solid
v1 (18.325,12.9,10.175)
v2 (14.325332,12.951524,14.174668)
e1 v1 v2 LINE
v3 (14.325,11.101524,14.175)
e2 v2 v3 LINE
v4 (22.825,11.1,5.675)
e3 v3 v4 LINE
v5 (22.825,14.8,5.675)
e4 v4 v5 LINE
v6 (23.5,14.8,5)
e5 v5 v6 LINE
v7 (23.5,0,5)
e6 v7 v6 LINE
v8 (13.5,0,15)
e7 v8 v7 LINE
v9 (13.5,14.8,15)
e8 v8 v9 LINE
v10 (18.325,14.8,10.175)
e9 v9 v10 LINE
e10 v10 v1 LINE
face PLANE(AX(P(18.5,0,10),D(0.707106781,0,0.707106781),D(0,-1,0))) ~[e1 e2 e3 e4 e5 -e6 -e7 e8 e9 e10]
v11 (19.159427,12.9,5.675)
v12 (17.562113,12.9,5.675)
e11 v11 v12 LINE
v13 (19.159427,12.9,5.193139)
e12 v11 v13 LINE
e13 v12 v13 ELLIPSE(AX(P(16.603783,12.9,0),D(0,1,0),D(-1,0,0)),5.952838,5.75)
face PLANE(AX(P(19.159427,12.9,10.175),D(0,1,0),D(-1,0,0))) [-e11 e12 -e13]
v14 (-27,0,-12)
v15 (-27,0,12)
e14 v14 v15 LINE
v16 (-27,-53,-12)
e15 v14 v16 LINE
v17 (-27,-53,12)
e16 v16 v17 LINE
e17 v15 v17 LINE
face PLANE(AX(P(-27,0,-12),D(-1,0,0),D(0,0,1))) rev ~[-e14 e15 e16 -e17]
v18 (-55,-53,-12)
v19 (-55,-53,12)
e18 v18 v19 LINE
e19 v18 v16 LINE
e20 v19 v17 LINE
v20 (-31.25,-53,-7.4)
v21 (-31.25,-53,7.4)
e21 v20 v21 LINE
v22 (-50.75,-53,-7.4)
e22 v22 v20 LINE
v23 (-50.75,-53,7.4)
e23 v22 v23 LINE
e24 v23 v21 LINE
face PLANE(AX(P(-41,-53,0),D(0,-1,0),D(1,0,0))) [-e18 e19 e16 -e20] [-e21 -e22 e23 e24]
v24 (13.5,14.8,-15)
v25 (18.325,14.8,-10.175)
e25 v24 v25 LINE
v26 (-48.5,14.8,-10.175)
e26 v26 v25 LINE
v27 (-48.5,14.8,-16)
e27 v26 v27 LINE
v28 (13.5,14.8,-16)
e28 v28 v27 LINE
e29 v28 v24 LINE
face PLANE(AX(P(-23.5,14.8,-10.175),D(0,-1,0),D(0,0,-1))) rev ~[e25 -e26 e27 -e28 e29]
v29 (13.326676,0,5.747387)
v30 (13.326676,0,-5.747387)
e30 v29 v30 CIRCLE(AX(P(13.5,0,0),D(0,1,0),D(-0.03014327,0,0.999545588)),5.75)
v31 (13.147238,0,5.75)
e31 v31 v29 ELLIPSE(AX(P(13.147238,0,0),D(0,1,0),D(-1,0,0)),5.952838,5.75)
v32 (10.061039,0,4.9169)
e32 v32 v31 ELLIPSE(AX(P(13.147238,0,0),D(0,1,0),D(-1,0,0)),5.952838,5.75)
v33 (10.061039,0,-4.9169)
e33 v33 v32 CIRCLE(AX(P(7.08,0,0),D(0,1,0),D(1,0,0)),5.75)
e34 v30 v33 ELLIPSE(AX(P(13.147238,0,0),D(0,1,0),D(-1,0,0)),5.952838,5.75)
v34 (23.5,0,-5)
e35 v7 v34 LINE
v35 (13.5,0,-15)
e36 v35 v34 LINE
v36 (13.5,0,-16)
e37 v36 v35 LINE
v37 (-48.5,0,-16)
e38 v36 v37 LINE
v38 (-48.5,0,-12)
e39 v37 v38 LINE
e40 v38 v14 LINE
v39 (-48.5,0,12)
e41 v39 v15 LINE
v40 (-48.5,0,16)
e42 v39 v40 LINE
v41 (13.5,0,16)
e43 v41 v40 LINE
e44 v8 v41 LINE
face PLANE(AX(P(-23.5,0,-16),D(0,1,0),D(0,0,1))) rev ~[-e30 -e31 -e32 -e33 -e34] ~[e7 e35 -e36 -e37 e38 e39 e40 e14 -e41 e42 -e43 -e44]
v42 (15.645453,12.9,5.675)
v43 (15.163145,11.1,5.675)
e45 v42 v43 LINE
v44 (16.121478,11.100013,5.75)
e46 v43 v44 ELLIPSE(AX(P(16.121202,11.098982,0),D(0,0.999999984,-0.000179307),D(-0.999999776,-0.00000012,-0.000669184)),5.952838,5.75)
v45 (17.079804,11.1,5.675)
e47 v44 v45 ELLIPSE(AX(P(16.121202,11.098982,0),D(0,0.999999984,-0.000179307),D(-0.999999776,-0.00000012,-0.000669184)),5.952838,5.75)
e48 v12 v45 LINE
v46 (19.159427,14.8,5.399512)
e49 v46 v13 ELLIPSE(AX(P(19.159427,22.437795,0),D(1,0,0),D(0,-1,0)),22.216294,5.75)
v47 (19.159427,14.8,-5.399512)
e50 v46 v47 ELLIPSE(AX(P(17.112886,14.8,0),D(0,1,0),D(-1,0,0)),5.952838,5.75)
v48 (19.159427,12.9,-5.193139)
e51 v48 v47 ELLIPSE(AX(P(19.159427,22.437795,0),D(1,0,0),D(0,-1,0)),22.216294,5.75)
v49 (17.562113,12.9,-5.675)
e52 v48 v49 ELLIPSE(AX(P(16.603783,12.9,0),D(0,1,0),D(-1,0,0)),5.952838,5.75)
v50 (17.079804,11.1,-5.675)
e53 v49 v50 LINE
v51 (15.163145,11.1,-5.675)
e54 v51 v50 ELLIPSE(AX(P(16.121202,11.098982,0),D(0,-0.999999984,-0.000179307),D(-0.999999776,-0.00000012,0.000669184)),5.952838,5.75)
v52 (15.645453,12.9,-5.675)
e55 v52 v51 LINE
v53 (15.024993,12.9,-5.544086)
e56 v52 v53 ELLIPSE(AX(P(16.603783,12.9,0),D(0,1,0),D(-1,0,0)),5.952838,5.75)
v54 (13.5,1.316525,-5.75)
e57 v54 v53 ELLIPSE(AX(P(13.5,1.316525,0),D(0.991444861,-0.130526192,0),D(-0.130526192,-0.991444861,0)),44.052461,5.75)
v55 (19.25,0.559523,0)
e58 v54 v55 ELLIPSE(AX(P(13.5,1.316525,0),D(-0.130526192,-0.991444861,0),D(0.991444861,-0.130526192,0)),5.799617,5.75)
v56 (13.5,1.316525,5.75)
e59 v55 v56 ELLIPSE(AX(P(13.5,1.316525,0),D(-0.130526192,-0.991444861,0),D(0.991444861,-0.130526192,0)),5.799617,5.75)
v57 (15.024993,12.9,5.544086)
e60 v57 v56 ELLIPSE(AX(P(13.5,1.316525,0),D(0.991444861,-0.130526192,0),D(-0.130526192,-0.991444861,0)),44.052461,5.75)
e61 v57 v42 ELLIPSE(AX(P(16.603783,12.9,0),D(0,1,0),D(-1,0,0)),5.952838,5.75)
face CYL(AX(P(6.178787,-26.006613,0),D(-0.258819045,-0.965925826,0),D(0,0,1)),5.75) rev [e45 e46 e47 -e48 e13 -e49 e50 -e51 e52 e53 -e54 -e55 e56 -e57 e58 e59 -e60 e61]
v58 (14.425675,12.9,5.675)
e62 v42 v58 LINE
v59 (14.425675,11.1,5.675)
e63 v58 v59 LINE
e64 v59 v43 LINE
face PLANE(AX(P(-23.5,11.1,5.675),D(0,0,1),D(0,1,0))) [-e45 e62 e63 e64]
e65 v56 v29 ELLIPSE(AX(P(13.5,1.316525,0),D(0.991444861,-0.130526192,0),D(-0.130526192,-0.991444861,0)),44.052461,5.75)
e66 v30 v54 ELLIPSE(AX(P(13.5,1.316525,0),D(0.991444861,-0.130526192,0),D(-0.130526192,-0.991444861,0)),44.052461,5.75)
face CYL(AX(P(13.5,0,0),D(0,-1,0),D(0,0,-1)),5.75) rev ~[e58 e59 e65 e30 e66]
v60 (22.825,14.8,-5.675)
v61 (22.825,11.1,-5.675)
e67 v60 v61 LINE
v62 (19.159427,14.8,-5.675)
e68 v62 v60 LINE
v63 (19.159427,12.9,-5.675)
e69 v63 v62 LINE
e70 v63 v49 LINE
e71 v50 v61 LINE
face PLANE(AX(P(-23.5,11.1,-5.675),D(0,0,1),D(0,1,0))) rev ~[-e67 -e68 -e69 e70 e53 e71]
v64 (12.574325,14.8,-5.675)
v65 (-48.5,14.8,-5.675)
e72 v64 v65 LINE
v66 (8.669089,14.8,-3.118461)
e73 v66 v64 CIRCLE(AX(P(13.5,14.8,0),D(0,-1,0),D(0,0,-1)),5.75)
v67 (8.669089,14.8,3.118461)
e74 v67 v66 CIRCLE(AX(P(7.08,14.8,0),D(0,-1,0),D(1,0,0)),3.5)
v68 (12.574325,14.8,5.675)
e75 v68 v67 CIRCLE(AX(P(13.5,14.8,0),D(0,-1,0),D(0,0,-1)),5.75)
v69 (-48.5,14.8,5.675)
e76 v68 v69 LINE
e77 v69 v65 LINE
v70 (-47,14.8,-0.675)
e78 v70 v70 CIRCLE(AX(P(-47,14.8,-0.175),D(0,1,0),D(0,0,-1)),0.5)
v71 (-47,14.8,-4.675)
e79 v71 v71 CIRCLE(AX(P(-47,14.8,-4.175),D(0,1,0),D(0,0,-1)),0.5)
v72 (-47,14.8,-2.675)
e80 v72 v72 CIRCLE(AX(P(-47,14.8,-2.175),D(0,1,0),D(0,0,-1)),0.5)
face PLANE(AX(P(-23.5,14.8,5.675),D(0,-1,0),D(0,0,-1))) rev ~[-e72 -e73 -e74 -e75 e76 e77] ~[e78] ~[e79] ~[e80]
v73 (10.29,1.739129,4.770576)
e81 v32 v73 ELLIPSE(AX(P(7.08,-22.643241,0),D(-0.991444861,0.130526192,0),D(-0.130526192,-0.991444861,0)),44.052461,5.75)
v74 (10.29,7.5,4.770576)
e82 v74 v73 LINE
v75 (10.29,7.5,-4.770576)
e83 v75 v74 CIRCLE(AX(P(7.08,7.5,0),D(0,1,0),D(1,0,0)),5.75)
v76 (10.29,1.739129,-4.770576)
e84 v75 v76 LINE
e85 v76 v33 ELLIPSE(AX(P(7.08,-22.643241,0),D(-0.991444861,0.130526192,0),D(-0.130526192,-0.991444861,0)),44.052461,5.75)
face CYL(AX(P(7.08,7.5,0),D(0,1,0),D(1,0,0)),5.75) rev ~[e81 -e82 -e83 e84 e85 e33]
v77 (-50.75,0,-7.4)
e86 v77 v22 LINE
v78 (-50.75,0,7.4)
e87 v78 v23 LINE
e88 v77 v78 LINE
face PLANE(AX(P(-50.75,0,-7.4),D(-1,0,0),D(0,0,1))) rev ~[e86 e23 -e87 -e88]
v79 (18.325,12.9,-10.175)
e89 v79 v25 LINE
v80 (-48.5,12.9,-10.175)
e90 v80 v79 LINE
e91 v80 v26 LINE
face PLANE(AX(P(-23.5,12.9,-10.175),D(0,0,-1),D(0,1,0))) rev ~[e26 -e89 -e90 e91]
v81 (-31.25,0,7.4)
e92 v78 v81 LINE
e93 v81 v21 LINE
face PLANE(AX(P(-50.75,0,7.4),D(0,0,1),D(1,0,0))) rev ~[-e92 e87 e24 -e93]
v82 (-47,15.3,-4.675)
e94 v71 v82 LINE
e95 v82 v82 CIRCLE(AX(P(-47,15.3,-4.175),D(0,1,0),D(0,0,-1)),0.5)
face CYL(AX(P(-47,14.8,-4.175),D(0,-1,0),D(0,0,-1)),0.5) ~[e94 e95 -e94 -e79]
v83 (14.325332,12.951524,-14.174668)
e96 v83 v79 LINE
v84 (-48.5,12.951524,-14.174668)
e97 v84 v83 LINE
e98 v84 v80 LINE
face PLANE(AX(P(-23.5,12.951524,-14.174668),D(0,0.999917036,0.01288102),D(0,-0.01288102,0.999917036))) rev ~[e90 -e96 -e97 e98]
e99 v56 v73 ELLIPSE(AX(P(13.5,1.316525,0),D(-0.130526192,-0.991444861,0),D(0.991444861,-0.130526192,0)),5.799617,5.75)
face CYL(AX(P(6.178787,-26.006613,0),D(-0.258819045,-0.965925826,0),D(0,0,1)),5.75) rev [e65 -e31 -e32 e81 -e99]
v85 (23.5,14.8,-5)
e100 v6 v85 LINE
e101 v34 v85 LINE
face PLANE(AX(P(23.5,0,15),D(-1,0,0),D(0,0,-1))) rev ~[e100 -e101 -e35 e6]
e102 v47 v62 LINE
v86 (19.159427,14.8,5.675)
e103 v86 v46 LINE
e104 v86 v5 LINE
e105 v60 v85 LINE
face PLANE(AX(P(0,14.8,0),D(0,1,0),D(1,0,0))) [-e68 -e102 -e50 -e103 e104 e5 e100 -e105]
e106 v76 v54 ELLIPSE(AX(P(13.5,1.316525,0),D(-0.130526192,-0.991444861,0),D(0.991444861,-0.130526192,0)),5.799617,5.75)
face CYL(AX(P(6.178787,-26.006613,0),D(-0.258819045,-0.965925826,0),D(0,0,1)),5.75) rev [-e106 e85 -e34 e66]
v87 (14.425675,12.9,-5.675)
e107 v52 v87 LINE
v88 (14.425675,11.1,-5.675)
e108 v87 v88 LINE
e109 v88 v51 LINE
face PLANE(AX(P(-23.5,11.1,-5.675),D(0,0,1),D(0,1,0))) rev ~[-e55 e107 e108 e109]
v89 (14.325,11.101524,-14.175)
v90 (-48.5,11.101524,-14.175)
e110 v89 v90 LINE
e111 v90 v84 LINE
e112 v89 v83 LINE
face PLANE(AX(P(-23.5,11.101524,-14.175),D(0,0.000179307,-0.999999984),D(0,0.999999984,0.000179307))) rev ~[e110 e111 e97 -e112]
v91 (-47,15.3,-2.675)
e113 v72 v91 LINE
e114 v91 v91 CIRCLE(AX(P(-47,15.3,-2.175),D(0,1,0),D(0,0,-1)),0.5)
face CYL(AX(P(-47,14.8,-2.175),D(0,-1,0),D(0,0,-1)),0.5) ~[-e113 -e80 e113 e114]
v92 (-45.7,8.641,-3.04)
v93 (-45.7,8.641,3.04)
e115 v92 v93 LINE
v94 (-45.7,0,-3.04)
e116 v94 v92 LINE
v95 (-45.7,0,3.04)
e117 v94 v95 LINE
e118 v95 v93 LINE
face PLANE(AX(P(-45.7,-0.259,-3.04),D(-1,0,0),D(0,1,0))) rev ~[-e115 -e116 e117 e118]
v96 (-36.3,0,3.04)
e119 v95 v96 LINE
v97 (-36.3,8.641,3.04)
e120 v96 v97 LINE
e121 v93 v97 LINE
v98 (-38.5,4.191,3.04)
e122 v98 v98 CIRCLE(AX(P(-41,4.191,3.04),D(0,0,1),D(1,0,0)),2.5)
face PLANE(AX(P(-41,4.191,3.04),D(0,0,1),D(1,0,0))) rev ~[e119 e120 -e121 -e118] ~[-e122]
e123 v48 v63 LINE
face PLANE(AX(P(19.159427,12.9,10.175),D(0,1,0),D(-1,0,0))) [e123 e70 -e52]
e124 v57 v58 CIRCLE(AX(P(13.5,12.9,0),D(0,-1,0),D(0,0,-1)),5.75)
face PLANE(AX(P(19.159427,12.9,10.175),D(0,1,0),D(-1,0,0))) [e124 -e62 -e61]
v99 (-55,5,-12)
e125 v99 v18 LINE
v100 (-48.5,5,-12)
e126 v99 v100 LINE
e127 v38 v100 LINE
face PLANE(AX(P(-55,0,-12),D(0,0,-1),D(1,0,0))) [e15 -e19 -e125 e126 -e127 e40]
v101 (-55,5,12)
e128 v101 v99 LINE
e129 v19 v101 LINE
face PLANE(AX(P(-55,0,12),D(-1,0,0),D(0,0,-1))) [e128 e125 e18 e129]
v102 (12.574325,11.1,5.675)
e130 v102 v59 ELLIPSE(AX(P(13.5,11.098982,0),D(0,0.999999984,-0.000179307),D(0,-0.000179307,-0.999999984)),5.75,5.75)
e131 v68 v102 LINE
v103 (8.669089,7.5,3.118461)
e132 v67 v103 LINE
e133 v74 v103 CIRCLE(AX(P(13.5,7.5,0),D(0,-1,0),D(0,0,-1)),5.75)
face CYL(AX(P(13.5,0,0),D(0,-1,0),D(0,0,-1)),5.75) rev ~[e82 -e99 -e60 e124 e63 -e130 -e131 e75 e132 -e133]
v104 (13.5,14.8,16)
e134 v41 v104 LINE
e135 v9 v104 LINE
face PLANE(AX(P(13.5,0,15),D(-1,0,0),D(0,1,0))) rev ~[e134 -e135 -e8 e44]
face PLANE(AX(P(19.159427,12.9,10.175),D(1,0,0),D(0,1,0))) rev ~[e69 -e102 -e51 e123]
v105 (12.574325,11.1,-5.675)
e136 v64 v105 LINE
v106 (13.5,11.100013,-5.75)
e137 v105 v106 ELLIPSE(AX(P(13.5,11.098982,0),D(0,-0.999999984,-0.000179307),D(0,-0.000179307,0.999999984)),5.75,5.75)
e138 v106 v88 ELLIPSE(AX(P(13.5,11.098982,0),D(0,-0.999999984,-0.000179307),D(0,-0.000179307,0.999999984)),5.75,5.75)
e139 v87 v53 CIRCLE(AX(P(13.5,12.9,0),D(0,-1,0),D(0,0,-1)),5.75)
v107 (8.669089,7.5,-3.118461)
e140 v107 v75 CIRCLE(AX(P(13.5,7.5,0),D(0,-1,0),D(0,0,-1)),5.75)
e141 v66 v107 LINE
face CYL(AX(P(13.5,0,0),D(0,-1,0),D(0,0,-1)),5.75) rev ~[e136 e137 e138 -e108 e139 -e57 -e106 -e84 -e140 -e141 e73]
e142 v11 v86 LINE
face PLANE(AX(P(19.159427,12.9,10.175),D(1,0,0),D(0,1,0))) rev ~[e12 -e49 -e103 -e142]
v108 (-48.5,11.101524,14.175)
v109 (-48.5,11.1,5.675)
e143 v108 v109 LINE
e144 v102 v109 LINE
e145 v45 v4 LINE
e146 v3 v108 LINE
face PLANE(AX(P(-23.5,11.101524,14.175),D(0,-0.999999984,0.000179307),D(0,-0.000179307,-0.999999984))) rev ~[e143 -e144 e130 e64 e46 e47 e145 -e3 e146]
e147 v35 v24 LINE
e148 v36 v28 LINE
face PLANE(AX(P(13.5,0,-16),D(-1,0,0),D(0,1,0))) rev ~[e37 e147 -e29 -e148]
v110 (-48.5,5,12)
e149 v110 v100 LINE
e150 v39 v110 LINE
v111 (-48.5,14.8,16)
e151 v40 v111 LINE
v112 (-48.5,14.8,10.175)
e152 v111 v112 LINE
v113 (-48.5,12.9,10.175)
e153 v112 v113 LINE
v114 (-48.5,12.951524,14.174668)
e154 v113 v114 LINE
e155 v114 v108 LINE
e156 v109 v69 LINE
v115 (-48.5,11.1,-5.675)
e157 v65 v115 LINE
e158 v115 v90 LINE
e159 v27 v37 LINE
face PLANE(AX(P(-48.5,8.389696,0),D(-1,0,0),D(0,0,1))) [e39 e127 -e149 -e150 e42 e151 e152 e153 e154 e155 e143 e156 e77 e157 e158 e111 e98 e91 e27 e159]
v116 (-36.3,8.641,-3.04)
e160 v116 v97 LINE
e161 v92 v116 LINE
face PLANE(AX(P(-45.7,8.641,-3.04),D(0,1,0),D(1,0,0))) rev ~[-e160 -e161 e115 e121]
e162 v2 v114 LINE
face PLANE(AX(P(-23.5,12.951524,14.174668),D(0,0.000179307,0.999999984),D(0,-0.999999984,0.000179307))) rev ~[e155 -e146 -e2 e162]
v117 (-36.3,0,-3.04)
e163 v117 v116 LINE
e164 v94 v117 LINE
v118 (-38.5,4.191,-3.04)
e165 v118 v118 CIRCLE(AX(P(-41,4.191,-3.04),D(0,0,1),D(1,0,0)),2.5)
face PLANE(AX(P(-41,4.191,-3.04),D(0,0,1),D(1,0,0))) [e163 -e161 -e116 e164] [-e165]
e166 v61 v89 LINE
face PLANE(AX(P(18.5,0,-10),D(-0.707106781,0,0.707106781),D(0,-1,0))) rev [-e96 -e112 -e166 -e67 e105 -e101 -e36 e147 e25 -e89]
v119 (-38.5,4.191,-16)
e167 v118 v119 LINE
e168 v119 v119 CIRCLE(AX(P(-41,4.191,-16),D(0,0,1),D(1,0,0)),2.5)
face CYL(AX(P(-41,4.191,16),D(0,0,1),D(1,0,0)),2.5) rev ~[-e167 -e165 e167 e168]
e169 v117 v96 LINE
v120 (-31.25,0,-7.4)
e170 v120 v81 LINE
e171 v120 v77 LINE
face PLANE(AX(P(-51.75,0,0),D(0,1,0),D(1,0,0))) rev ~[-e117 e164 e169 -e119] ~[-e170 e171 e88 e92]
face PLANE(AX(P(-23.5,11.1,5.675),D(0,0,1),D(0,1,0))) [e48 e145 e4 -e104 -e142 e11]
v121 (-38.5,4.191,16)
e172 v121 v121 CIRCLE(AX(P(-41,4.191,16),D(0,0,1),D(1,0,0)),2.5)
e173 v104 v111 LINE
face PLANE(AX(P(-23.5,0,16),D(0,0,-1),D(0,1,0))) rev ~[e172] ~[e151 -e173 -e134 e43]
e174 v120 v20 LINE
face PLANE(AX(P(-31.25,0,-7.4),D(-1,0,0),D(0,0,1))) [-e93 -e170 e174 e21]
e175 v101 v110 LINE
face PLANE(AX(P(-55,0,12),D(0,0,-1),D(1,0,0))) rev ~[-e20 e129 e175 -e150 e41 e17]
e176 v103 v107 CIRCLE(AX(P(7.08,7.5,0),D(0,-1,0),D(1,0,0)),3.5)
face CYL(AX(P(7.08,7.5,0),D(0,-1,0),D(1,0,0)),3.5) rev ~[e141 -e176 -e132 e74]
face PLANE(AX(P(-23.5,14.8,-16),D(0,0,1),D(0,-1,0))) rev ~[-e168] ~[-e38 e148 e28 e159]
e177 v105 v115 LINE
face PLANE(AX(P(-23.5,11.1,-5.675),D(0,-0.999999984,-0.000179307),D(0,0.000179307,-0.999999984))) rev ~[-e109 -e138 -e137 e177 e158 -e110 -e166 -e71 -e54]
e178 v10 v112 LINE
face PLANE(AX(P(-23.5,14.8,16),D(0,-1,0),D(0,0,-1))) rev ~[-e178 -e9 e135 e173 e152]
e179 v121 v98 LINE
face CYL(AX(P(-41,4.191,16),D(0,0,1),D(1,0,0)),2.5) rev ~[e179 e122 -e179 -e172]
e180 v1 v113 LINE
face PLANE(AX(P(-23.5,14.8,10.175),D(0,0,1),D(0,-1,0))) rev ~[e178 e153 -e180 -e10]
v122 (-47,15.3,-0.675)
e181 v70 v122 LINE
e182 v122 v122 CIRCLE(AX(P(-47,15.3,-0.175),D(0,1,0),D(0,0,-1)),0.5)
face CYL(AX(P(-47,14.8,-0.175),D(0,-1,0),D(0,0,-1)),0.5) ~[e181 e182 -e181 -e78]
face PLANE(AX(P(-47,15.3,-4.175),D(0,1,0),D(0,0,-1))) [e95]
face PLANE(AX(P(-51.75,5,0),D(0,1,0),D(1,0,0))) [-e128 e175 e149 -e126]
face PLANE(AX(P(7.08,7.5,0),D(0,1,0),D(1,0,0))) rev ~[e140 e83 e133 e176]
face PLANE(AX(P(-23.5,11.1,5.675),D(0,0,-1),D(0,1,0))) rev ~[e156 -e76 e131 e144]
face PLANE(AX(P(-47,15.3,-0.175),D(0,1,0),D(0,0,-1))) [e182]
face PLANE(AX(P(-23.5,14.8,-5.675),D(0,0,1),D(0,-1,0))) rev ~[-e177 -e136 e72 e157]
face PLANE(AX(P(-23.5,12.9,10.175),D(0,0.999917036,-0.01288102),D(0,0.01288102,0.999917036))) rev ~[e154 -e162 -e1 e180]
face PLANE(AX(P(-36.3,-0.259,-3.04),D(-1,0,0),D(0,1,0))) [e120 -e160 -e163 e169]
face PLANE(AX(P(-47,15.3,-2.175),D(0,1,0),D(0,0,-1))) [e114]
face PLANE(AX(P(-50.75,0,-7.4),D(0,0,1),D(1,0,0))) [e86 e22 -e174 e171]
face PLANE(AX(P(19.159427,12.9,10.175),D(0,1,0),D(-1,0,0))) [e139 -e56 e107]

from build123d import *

# Parameters (mm, degrees)
SKETCH1_W               = 47
SKETCH1_H               = 30
BOSS_EXTRUDE1_DEPTH     = 14.8
SKETCH2_R               = 5.75
CUT_EXTRUDE1_DEPTH      = 32.564061843
SKETCH10_W              = 15
SKETCH10_H              = 23
BOSS_EXTRUDE2_DEPTH     = 10
SKETCH9_R               = 2.5
CUT_EXTRUDE2_DEPTH      = 52.780787943
SKETCH9_3_W             = 8.89
SKETCH9_3_H             = 8.382
SKETCH9_3_R             = 2.5
CUT_EXTRUDE3_DEPTH      = 28.04
SKETCH14_W              = 11.152996248
SKETCH14_H              = 9.480152006
BOSS_EXTRUDE3_DEPTH     = 11.96
CUT_EXTRUDE6_DEPTH      = 31
CUT_EXTRUDE6_DEPTH_BACK = 111
SKETCH15_R              = 2.5
CHAMFER1_SIZE           = 10
CUT_EXTRUDE7_DEPTH      = 58.99137867
SKETCH17_W              = 15
SKETCH17_H              = 23
CUT_EXTRUDE8_DEPTH      = 10
CUT_EXTRUDE9_DEPTH      = 31.734725749
CUT_EXTRUDE9_DEPTH_BACK = 31.734725749
SKETCH18_R              = 5.75
CUT_EXTRUDE10_START     = -7.3
SKETCH19_R              = 5.75
CUT_EXTRUDE10_DEPTH     = 25.264061843
SKETCH20_W              = 37
SKETCH20_H              = 14.8
SKETCH20_R              = 2.5
BOSS_EXTRUDE4_DEPTH     = 1
BOSS_EXTRUDE5_START     = 1
SKETCH21_W              = 37
SKETCH21_H              = 14.8
SKETCH21_R              = 2.5
BOSS_EXTRUDE5_DEPTH     = 1
BOSS_EXTRUDE6_DEPTH     = 25
CUT_EXTRUDE11_REACH     = 59.065
SKETCH22_W              = 5.115877125
SKETCH22_H              = 1.9
SKETCH24_R              = 2.5
CUT_EXTRUDE12_DEPTH     = 60.960737154
CUT_EXTRUDE13_START     = -19.04
SKETCH25_W              = 9.4
SKETCH25_H              = 8.9
CUT_EXTRUDE13_DEPTH     = 6.08
SKETCH26_W              = 23.327842288
SKETCH26_H              = 8.382
BOSS_EXTRUDE7_DEPTH     = 32
SKETCH27_R              = 3.5
CUT_EXTRUDE14_DEPTH     = 10
SKETCH28_R              = 0.5
BOSS_EXTRUDE8_DEPTH     = 0.5
SKETCH29_W              = 28
SKETCH29_H              = 24
SKETCH29_W_2            = 19.5
SKETCH29_H_2            = 14.8
BOSS_EXTRUDE9_DEPTH     = 53
SKETCH30_W              = 6.5
SKETCH30_H              = 24
BOSS_EXTRUDE10_DEPTH    = 5


with BuildPart() as part:
    # Sketch1 → Boss-Extrude1 (new body)
    with BuildSketch(Plane(origin=(0, 0, 0), x_dir=(1, 0, 0), z_dir=(0, 1, 0))):
        Rectangle(SKETCH1_W, SKETCH1_H)
    extrude(amount=BOSS_EXTRUDE1_DEPTH)

    # Sketch2 → Cut-Extrude1 (cut, through all)
    with BuildSketch(Plane.XZ):
        with Locations(Location((13.5, 0, 0), (0, 0, 270))):
            Circle(SKETCH2_R)
    extrude(amount=-CUT_EXTRUDE1_DEPTH, mode=Mode.SUBTRACT)

    # Sketch10 → Boss-Extrude2 (add)
    with BuildSketch(Plane.XY.offset(15)):
        with Locations((-16, 11.5)):
            Rectangle(SKETCH10_W, SKETCH10_H)
    extrude(amount=BOSS_EXTRUDE2_DEPTH)

    # Sketch9 → Cut-Extrude2 (cut, through all)
    with BuildSketch(Plane.XY.offset(25)):
        with Locations((-16, 4.191)):
            Circle(SKETCH9_R)
    extrude(amount=-CUT_EXTRUDE2_DEPTH, mode=Mode.SUBTRACT)

    # Sketch9<3> → Cut-Extrude3 (cut)
    with BuildSketch(Plane.XY.offset(25)):
        with Locations((-16, 4.191)):
            Rectangle(SKETCH9_3_W, SKETCH9_3_H)
        with Locations((-16, 4.191)):
            Circle(SKETCH9_3_R, mode=Mode.SUBTRACT)
    extrude(amount=-CUT_EXTRUDE3_DEPTH, mode=Mode.SUBTRACT)

    # Sketch14 → Boss-Extrude3 (add)
    with BuildSketch(Plane.XY.offset(15)):
        with Locations((-17.328151157, 4.740076003)):
            Rectangle(SKETCH14_W, SKETCH14_H)
    extrude(amount=-BOSS_EXTRUDE3_DEPTH)

    # Sketch15 → Cut-Extrude6 (cut, two sides: drawn at the far end of the back side and taken through both)
    with BuildSketch(Plane(origin=(0, 0, -15), x_dir=(-1, 0, 0), z_dir=(0, 0, -1)).offset(-CUT_EXTRUDE6_DEPTH_BACK)):
        with Locations(Location((16, 4.191, 0), (0, 0, 180))):
            Circle(SKETCH15_R)
    extrude(amount=CUT_EXTRUDE6_DEPTH + CUT_EXTRUDE6_DEPTH_BACK, mode=Mode.SUBTRACT)

    # Chamfer1
    chamfer1_edges = [part.edges().sort_by_distance(p)[0] for p in [
        (23.5, 7.4, 15),
        (23.5, 7.4, -15),
    ]]
    chamfer(chamfer1_edges, length=CHAMFER1_SIZE)

    # Sketch16 → Cut-Extrude7 (cut, through all)
    with BuildSketch(Plane.ZY.offset(23.5)):
        Polygon((10.175, 14.8), (10.175, 12.9), (14.174668145, 12.951524082), (14.174999863, 11.101524112), (5.675, 11.1), (5.675, 14.8), align=None)
        Polygon((-14.174999863, 11.101524112), (-5.675, 11.1), (-5.675, 14.8), (-10.175, 14.8), (-10.175, 12.9), (-14.174668145, 12.951524082), align=None)
    extrude(amount=-CUT_EXTRUDE7_DEPTH, mode=Mode.SUBTRACT)

    # Sketch17 → Cut-Extrude8 (cut)
    with BuildSketch(Plane.XY.offset(25)):
        with Locations((-16, 11.5)):
            Rectangle(SKETCH17_W, SKETCH17_H)
    extrude(amount=-CUT_EXTRUDE8_DEPTH, mode=Mode.SUBTRACT)

    # Sketch18 → Cut-Extrude9 (cut, two sides: drawn at the far end of the back side and taken through both)
    with BuildSketch(Plane(origin=(2.125798494, 7.933587988, 0), x_dir=(0, 0, 1), z_dir=(0.25881904510252474, 0.9659258262890673, 0)).offset(-CUT_EXTRUDE9_DEPTH_BACK)):
        with Locations((0, 12.699256918)):
            Circle(SKETCH18_R)
    extrude(amount=CUT_EXTRUDE9_DEPTH + CUT_EXTRUDE9_DEPTH_BACK, mode=Mode.SUBTRACT)

    # Sketch19 → Cut-Extrude10 (cut, through all)
    with BuildSketch(Plane(origin=(0, 14.8, 0), x_dir=(1, 0, 0), z_dir=(0, 1, 0)).offset(CUT_EXTRUDE10_START)):
        with Locations((7.08, 0)):
            Circle(SKETCH19_R)
    extrude(amount=-CUT_EXTRUDE10_DEPTH, mode=Mode.SUBTRACT)

    # Sketch20 → Boss-Extrude4 (add)
    with BuildSketch(Plane.XY.offset(15)):
        with Locations((-5, 7.4)):
            Rectangle(SKETCH20_W, SKETCH20_H)
        with Locations((-16, 4.191)):
            Circle(SKETCH20_R, mode=Mode.SUBTRACT)
    extrude(amount=BOSS_EXTRUDE4_DEPTH)

    # Sketch21 → Boss-Extrude5 (add)
    with BuildSketch(Plane(origin=(0, 0, -15), x_dir=(-1, 0, 0), z_dir=(0, 0, -1)).offset(BOSS_EXTRUDE5_START)):
        with Locations((5, 7.4)):
            Rectangle(SKETCH21_W, SKETCH21_H)
        with Locations(Location((16, 4.191, 0), (0, 0, 180))):
            Circle(SKETCH21_R, mode=Mode.SUBTRACT)
    extrude(amount=-BOSS_EXTRUDE5_DEPTH)

    # Sketch23 → Boss-Extrude6 (add)
    with BuildSketch(Plane.ZY.offset(23.5)):
        Polygon((-10.175, 14.8), (-16, 14.8), (-16, 0), (16, 0), (16, 14.8), (10.175, 14.8), (10.175, 12.9), (14.174668145, 12.951524082), (14.174999863, 11.101524112), (5.675, 11.1), (5.675, 14.8), (-5.675, 14.8), (-5.675, 11.1), (-14.174999863, 11.101524112), (-14.174668145, 12.951524082), (-10.175, 12.9), align=None)
    extrude(amount=BOSS_EXTRUDE6_DEPTH)

    # Cut-Extrude11: up to this face of the body (flat: up to its plane)
    cut_extrude11_end = Plane(part.part.faces().sort_by_distance((-2.5875, 13.85, -10.175))[0])
    # Sketch22 → Cut-Extrude11 (cut, up to the picked face)
    with BuildSketch(Plane(origin=(0, 0, 10.175), x_dir=(-1, 0, 0), z_dir=(0, 0, -1)), mode=Mode.PRIVATE) as cut_extrude11_sk1:
        with Locations((-16.601488732, 13.85)):
            Rectangle(SKETCH22_W, SKETCH22_H)
    cut_extrude11_tool1 = split(extrude(cut_extrude11_sk1.sketch, amount=CUT_EXTRUDE11_REACH, mode=Mode.PRIVATE), bisect_by=cut_extrude11_end, keep=Keep.BOTH, mode=Mode.PRIVATE)
    add(cut_extrude11_tool1.solids().sort_by(Axis((16.601489, 13.85, 10.175), (0, 0, -1)))[0], mode=Mode.SUBTRACT)

    # Sketch24 → Cut-Extrude12 (cut, through all)
    with BuildSketch(Plane.XY.offset(16)):
        with Locations((-41, 4.191)):
            Circle(SKETCH24_R)
    extrude(amount=-CUT_EXTRUDE12_DEPTH, mode=Mode.SUBTRACT)

    # Sketch25 → Cut-Extrude13 (cut)
    with BuildSketch(Plane.XY.offset(16).offset(CUT_EXTRUDE13_START)):
        with Locations((-41, 4.191)):
            Rectangle(SKETCH25_W, SKETCH25_H)
    extrude(amount=CUT_EXTRUDE13_DEPTH, mode=Mode.SUBTRACT)

    # Sketch26 → Boss-Extrude7 (add, through all)
    with BuildSketch(Plane.XY.offset(16)):
        with Locations((-16, 4.191)):
            Rectangle(SKETCH26_W, SKETCH26_H)
    extrude(amount=-BOSS_EXTRUDE7_DEPTH)

    # Sketch27 → Cut-Extrude14 (cut)
    with BuildSketch(Plane.XZ.offset(-7.5)):
        with Locations((7.08, 0)):
            Circle(SKETCH27_R)
    extrude(amount=-CUT_EXTRUDE14_DEPTH, mode=Mode.SUBTRACT)

    # Sketch28 → Boss-Extrude8 (add)
    with BuildSketch(Plane(origin=(0, 14.8, 0), x_dir=(1, 0, 0), z_dir=(0, 1, 0))):
        with Locations(Location((-47, 0.175, 0), (0, 0, 90))):
            Circle(SKETCH28_R)
        with Locations(Location((-47, 2.175, 0), (0, 0, 90))):
            Circle(SKETCH28_R)
        with Locations(Location((-47, 4.175, 0), (0, 0, 90))):
            Circle(SKETCH28_R)
    extrude(amount=BOSS_EXTRUDE8_DEPTH)

    # Sketch29 → Boss-Extrude9 (add)
    with BuildSketch(Plane.XZ):
        with Locations((-41, 0)):
            Rectangle(SKETCH29_W, SKETCH29_H)
        with Locations((-41, 0)):
            Rectangle(SKETCH29_W_2, SKETCH29_H_2, mode=Mode.SUBTRACT)
    extrude(amount=BOSS_EXTRUDE9_DEPTH)

    # Sketch30 → Boss-Extrude10 (add)
    with BuildSketch(Plane(origin=(0, 0, 0), x_dir=(1, 0, 0), z_dir=(0, 1, 0))):
        with Locations((-51.75, 0)):
            Rectangle(SKETCH30_W, SKETCH30_H)
    extrude(amount=BOSS_EXTRUDE10_DEPTH)


solid = part.part
